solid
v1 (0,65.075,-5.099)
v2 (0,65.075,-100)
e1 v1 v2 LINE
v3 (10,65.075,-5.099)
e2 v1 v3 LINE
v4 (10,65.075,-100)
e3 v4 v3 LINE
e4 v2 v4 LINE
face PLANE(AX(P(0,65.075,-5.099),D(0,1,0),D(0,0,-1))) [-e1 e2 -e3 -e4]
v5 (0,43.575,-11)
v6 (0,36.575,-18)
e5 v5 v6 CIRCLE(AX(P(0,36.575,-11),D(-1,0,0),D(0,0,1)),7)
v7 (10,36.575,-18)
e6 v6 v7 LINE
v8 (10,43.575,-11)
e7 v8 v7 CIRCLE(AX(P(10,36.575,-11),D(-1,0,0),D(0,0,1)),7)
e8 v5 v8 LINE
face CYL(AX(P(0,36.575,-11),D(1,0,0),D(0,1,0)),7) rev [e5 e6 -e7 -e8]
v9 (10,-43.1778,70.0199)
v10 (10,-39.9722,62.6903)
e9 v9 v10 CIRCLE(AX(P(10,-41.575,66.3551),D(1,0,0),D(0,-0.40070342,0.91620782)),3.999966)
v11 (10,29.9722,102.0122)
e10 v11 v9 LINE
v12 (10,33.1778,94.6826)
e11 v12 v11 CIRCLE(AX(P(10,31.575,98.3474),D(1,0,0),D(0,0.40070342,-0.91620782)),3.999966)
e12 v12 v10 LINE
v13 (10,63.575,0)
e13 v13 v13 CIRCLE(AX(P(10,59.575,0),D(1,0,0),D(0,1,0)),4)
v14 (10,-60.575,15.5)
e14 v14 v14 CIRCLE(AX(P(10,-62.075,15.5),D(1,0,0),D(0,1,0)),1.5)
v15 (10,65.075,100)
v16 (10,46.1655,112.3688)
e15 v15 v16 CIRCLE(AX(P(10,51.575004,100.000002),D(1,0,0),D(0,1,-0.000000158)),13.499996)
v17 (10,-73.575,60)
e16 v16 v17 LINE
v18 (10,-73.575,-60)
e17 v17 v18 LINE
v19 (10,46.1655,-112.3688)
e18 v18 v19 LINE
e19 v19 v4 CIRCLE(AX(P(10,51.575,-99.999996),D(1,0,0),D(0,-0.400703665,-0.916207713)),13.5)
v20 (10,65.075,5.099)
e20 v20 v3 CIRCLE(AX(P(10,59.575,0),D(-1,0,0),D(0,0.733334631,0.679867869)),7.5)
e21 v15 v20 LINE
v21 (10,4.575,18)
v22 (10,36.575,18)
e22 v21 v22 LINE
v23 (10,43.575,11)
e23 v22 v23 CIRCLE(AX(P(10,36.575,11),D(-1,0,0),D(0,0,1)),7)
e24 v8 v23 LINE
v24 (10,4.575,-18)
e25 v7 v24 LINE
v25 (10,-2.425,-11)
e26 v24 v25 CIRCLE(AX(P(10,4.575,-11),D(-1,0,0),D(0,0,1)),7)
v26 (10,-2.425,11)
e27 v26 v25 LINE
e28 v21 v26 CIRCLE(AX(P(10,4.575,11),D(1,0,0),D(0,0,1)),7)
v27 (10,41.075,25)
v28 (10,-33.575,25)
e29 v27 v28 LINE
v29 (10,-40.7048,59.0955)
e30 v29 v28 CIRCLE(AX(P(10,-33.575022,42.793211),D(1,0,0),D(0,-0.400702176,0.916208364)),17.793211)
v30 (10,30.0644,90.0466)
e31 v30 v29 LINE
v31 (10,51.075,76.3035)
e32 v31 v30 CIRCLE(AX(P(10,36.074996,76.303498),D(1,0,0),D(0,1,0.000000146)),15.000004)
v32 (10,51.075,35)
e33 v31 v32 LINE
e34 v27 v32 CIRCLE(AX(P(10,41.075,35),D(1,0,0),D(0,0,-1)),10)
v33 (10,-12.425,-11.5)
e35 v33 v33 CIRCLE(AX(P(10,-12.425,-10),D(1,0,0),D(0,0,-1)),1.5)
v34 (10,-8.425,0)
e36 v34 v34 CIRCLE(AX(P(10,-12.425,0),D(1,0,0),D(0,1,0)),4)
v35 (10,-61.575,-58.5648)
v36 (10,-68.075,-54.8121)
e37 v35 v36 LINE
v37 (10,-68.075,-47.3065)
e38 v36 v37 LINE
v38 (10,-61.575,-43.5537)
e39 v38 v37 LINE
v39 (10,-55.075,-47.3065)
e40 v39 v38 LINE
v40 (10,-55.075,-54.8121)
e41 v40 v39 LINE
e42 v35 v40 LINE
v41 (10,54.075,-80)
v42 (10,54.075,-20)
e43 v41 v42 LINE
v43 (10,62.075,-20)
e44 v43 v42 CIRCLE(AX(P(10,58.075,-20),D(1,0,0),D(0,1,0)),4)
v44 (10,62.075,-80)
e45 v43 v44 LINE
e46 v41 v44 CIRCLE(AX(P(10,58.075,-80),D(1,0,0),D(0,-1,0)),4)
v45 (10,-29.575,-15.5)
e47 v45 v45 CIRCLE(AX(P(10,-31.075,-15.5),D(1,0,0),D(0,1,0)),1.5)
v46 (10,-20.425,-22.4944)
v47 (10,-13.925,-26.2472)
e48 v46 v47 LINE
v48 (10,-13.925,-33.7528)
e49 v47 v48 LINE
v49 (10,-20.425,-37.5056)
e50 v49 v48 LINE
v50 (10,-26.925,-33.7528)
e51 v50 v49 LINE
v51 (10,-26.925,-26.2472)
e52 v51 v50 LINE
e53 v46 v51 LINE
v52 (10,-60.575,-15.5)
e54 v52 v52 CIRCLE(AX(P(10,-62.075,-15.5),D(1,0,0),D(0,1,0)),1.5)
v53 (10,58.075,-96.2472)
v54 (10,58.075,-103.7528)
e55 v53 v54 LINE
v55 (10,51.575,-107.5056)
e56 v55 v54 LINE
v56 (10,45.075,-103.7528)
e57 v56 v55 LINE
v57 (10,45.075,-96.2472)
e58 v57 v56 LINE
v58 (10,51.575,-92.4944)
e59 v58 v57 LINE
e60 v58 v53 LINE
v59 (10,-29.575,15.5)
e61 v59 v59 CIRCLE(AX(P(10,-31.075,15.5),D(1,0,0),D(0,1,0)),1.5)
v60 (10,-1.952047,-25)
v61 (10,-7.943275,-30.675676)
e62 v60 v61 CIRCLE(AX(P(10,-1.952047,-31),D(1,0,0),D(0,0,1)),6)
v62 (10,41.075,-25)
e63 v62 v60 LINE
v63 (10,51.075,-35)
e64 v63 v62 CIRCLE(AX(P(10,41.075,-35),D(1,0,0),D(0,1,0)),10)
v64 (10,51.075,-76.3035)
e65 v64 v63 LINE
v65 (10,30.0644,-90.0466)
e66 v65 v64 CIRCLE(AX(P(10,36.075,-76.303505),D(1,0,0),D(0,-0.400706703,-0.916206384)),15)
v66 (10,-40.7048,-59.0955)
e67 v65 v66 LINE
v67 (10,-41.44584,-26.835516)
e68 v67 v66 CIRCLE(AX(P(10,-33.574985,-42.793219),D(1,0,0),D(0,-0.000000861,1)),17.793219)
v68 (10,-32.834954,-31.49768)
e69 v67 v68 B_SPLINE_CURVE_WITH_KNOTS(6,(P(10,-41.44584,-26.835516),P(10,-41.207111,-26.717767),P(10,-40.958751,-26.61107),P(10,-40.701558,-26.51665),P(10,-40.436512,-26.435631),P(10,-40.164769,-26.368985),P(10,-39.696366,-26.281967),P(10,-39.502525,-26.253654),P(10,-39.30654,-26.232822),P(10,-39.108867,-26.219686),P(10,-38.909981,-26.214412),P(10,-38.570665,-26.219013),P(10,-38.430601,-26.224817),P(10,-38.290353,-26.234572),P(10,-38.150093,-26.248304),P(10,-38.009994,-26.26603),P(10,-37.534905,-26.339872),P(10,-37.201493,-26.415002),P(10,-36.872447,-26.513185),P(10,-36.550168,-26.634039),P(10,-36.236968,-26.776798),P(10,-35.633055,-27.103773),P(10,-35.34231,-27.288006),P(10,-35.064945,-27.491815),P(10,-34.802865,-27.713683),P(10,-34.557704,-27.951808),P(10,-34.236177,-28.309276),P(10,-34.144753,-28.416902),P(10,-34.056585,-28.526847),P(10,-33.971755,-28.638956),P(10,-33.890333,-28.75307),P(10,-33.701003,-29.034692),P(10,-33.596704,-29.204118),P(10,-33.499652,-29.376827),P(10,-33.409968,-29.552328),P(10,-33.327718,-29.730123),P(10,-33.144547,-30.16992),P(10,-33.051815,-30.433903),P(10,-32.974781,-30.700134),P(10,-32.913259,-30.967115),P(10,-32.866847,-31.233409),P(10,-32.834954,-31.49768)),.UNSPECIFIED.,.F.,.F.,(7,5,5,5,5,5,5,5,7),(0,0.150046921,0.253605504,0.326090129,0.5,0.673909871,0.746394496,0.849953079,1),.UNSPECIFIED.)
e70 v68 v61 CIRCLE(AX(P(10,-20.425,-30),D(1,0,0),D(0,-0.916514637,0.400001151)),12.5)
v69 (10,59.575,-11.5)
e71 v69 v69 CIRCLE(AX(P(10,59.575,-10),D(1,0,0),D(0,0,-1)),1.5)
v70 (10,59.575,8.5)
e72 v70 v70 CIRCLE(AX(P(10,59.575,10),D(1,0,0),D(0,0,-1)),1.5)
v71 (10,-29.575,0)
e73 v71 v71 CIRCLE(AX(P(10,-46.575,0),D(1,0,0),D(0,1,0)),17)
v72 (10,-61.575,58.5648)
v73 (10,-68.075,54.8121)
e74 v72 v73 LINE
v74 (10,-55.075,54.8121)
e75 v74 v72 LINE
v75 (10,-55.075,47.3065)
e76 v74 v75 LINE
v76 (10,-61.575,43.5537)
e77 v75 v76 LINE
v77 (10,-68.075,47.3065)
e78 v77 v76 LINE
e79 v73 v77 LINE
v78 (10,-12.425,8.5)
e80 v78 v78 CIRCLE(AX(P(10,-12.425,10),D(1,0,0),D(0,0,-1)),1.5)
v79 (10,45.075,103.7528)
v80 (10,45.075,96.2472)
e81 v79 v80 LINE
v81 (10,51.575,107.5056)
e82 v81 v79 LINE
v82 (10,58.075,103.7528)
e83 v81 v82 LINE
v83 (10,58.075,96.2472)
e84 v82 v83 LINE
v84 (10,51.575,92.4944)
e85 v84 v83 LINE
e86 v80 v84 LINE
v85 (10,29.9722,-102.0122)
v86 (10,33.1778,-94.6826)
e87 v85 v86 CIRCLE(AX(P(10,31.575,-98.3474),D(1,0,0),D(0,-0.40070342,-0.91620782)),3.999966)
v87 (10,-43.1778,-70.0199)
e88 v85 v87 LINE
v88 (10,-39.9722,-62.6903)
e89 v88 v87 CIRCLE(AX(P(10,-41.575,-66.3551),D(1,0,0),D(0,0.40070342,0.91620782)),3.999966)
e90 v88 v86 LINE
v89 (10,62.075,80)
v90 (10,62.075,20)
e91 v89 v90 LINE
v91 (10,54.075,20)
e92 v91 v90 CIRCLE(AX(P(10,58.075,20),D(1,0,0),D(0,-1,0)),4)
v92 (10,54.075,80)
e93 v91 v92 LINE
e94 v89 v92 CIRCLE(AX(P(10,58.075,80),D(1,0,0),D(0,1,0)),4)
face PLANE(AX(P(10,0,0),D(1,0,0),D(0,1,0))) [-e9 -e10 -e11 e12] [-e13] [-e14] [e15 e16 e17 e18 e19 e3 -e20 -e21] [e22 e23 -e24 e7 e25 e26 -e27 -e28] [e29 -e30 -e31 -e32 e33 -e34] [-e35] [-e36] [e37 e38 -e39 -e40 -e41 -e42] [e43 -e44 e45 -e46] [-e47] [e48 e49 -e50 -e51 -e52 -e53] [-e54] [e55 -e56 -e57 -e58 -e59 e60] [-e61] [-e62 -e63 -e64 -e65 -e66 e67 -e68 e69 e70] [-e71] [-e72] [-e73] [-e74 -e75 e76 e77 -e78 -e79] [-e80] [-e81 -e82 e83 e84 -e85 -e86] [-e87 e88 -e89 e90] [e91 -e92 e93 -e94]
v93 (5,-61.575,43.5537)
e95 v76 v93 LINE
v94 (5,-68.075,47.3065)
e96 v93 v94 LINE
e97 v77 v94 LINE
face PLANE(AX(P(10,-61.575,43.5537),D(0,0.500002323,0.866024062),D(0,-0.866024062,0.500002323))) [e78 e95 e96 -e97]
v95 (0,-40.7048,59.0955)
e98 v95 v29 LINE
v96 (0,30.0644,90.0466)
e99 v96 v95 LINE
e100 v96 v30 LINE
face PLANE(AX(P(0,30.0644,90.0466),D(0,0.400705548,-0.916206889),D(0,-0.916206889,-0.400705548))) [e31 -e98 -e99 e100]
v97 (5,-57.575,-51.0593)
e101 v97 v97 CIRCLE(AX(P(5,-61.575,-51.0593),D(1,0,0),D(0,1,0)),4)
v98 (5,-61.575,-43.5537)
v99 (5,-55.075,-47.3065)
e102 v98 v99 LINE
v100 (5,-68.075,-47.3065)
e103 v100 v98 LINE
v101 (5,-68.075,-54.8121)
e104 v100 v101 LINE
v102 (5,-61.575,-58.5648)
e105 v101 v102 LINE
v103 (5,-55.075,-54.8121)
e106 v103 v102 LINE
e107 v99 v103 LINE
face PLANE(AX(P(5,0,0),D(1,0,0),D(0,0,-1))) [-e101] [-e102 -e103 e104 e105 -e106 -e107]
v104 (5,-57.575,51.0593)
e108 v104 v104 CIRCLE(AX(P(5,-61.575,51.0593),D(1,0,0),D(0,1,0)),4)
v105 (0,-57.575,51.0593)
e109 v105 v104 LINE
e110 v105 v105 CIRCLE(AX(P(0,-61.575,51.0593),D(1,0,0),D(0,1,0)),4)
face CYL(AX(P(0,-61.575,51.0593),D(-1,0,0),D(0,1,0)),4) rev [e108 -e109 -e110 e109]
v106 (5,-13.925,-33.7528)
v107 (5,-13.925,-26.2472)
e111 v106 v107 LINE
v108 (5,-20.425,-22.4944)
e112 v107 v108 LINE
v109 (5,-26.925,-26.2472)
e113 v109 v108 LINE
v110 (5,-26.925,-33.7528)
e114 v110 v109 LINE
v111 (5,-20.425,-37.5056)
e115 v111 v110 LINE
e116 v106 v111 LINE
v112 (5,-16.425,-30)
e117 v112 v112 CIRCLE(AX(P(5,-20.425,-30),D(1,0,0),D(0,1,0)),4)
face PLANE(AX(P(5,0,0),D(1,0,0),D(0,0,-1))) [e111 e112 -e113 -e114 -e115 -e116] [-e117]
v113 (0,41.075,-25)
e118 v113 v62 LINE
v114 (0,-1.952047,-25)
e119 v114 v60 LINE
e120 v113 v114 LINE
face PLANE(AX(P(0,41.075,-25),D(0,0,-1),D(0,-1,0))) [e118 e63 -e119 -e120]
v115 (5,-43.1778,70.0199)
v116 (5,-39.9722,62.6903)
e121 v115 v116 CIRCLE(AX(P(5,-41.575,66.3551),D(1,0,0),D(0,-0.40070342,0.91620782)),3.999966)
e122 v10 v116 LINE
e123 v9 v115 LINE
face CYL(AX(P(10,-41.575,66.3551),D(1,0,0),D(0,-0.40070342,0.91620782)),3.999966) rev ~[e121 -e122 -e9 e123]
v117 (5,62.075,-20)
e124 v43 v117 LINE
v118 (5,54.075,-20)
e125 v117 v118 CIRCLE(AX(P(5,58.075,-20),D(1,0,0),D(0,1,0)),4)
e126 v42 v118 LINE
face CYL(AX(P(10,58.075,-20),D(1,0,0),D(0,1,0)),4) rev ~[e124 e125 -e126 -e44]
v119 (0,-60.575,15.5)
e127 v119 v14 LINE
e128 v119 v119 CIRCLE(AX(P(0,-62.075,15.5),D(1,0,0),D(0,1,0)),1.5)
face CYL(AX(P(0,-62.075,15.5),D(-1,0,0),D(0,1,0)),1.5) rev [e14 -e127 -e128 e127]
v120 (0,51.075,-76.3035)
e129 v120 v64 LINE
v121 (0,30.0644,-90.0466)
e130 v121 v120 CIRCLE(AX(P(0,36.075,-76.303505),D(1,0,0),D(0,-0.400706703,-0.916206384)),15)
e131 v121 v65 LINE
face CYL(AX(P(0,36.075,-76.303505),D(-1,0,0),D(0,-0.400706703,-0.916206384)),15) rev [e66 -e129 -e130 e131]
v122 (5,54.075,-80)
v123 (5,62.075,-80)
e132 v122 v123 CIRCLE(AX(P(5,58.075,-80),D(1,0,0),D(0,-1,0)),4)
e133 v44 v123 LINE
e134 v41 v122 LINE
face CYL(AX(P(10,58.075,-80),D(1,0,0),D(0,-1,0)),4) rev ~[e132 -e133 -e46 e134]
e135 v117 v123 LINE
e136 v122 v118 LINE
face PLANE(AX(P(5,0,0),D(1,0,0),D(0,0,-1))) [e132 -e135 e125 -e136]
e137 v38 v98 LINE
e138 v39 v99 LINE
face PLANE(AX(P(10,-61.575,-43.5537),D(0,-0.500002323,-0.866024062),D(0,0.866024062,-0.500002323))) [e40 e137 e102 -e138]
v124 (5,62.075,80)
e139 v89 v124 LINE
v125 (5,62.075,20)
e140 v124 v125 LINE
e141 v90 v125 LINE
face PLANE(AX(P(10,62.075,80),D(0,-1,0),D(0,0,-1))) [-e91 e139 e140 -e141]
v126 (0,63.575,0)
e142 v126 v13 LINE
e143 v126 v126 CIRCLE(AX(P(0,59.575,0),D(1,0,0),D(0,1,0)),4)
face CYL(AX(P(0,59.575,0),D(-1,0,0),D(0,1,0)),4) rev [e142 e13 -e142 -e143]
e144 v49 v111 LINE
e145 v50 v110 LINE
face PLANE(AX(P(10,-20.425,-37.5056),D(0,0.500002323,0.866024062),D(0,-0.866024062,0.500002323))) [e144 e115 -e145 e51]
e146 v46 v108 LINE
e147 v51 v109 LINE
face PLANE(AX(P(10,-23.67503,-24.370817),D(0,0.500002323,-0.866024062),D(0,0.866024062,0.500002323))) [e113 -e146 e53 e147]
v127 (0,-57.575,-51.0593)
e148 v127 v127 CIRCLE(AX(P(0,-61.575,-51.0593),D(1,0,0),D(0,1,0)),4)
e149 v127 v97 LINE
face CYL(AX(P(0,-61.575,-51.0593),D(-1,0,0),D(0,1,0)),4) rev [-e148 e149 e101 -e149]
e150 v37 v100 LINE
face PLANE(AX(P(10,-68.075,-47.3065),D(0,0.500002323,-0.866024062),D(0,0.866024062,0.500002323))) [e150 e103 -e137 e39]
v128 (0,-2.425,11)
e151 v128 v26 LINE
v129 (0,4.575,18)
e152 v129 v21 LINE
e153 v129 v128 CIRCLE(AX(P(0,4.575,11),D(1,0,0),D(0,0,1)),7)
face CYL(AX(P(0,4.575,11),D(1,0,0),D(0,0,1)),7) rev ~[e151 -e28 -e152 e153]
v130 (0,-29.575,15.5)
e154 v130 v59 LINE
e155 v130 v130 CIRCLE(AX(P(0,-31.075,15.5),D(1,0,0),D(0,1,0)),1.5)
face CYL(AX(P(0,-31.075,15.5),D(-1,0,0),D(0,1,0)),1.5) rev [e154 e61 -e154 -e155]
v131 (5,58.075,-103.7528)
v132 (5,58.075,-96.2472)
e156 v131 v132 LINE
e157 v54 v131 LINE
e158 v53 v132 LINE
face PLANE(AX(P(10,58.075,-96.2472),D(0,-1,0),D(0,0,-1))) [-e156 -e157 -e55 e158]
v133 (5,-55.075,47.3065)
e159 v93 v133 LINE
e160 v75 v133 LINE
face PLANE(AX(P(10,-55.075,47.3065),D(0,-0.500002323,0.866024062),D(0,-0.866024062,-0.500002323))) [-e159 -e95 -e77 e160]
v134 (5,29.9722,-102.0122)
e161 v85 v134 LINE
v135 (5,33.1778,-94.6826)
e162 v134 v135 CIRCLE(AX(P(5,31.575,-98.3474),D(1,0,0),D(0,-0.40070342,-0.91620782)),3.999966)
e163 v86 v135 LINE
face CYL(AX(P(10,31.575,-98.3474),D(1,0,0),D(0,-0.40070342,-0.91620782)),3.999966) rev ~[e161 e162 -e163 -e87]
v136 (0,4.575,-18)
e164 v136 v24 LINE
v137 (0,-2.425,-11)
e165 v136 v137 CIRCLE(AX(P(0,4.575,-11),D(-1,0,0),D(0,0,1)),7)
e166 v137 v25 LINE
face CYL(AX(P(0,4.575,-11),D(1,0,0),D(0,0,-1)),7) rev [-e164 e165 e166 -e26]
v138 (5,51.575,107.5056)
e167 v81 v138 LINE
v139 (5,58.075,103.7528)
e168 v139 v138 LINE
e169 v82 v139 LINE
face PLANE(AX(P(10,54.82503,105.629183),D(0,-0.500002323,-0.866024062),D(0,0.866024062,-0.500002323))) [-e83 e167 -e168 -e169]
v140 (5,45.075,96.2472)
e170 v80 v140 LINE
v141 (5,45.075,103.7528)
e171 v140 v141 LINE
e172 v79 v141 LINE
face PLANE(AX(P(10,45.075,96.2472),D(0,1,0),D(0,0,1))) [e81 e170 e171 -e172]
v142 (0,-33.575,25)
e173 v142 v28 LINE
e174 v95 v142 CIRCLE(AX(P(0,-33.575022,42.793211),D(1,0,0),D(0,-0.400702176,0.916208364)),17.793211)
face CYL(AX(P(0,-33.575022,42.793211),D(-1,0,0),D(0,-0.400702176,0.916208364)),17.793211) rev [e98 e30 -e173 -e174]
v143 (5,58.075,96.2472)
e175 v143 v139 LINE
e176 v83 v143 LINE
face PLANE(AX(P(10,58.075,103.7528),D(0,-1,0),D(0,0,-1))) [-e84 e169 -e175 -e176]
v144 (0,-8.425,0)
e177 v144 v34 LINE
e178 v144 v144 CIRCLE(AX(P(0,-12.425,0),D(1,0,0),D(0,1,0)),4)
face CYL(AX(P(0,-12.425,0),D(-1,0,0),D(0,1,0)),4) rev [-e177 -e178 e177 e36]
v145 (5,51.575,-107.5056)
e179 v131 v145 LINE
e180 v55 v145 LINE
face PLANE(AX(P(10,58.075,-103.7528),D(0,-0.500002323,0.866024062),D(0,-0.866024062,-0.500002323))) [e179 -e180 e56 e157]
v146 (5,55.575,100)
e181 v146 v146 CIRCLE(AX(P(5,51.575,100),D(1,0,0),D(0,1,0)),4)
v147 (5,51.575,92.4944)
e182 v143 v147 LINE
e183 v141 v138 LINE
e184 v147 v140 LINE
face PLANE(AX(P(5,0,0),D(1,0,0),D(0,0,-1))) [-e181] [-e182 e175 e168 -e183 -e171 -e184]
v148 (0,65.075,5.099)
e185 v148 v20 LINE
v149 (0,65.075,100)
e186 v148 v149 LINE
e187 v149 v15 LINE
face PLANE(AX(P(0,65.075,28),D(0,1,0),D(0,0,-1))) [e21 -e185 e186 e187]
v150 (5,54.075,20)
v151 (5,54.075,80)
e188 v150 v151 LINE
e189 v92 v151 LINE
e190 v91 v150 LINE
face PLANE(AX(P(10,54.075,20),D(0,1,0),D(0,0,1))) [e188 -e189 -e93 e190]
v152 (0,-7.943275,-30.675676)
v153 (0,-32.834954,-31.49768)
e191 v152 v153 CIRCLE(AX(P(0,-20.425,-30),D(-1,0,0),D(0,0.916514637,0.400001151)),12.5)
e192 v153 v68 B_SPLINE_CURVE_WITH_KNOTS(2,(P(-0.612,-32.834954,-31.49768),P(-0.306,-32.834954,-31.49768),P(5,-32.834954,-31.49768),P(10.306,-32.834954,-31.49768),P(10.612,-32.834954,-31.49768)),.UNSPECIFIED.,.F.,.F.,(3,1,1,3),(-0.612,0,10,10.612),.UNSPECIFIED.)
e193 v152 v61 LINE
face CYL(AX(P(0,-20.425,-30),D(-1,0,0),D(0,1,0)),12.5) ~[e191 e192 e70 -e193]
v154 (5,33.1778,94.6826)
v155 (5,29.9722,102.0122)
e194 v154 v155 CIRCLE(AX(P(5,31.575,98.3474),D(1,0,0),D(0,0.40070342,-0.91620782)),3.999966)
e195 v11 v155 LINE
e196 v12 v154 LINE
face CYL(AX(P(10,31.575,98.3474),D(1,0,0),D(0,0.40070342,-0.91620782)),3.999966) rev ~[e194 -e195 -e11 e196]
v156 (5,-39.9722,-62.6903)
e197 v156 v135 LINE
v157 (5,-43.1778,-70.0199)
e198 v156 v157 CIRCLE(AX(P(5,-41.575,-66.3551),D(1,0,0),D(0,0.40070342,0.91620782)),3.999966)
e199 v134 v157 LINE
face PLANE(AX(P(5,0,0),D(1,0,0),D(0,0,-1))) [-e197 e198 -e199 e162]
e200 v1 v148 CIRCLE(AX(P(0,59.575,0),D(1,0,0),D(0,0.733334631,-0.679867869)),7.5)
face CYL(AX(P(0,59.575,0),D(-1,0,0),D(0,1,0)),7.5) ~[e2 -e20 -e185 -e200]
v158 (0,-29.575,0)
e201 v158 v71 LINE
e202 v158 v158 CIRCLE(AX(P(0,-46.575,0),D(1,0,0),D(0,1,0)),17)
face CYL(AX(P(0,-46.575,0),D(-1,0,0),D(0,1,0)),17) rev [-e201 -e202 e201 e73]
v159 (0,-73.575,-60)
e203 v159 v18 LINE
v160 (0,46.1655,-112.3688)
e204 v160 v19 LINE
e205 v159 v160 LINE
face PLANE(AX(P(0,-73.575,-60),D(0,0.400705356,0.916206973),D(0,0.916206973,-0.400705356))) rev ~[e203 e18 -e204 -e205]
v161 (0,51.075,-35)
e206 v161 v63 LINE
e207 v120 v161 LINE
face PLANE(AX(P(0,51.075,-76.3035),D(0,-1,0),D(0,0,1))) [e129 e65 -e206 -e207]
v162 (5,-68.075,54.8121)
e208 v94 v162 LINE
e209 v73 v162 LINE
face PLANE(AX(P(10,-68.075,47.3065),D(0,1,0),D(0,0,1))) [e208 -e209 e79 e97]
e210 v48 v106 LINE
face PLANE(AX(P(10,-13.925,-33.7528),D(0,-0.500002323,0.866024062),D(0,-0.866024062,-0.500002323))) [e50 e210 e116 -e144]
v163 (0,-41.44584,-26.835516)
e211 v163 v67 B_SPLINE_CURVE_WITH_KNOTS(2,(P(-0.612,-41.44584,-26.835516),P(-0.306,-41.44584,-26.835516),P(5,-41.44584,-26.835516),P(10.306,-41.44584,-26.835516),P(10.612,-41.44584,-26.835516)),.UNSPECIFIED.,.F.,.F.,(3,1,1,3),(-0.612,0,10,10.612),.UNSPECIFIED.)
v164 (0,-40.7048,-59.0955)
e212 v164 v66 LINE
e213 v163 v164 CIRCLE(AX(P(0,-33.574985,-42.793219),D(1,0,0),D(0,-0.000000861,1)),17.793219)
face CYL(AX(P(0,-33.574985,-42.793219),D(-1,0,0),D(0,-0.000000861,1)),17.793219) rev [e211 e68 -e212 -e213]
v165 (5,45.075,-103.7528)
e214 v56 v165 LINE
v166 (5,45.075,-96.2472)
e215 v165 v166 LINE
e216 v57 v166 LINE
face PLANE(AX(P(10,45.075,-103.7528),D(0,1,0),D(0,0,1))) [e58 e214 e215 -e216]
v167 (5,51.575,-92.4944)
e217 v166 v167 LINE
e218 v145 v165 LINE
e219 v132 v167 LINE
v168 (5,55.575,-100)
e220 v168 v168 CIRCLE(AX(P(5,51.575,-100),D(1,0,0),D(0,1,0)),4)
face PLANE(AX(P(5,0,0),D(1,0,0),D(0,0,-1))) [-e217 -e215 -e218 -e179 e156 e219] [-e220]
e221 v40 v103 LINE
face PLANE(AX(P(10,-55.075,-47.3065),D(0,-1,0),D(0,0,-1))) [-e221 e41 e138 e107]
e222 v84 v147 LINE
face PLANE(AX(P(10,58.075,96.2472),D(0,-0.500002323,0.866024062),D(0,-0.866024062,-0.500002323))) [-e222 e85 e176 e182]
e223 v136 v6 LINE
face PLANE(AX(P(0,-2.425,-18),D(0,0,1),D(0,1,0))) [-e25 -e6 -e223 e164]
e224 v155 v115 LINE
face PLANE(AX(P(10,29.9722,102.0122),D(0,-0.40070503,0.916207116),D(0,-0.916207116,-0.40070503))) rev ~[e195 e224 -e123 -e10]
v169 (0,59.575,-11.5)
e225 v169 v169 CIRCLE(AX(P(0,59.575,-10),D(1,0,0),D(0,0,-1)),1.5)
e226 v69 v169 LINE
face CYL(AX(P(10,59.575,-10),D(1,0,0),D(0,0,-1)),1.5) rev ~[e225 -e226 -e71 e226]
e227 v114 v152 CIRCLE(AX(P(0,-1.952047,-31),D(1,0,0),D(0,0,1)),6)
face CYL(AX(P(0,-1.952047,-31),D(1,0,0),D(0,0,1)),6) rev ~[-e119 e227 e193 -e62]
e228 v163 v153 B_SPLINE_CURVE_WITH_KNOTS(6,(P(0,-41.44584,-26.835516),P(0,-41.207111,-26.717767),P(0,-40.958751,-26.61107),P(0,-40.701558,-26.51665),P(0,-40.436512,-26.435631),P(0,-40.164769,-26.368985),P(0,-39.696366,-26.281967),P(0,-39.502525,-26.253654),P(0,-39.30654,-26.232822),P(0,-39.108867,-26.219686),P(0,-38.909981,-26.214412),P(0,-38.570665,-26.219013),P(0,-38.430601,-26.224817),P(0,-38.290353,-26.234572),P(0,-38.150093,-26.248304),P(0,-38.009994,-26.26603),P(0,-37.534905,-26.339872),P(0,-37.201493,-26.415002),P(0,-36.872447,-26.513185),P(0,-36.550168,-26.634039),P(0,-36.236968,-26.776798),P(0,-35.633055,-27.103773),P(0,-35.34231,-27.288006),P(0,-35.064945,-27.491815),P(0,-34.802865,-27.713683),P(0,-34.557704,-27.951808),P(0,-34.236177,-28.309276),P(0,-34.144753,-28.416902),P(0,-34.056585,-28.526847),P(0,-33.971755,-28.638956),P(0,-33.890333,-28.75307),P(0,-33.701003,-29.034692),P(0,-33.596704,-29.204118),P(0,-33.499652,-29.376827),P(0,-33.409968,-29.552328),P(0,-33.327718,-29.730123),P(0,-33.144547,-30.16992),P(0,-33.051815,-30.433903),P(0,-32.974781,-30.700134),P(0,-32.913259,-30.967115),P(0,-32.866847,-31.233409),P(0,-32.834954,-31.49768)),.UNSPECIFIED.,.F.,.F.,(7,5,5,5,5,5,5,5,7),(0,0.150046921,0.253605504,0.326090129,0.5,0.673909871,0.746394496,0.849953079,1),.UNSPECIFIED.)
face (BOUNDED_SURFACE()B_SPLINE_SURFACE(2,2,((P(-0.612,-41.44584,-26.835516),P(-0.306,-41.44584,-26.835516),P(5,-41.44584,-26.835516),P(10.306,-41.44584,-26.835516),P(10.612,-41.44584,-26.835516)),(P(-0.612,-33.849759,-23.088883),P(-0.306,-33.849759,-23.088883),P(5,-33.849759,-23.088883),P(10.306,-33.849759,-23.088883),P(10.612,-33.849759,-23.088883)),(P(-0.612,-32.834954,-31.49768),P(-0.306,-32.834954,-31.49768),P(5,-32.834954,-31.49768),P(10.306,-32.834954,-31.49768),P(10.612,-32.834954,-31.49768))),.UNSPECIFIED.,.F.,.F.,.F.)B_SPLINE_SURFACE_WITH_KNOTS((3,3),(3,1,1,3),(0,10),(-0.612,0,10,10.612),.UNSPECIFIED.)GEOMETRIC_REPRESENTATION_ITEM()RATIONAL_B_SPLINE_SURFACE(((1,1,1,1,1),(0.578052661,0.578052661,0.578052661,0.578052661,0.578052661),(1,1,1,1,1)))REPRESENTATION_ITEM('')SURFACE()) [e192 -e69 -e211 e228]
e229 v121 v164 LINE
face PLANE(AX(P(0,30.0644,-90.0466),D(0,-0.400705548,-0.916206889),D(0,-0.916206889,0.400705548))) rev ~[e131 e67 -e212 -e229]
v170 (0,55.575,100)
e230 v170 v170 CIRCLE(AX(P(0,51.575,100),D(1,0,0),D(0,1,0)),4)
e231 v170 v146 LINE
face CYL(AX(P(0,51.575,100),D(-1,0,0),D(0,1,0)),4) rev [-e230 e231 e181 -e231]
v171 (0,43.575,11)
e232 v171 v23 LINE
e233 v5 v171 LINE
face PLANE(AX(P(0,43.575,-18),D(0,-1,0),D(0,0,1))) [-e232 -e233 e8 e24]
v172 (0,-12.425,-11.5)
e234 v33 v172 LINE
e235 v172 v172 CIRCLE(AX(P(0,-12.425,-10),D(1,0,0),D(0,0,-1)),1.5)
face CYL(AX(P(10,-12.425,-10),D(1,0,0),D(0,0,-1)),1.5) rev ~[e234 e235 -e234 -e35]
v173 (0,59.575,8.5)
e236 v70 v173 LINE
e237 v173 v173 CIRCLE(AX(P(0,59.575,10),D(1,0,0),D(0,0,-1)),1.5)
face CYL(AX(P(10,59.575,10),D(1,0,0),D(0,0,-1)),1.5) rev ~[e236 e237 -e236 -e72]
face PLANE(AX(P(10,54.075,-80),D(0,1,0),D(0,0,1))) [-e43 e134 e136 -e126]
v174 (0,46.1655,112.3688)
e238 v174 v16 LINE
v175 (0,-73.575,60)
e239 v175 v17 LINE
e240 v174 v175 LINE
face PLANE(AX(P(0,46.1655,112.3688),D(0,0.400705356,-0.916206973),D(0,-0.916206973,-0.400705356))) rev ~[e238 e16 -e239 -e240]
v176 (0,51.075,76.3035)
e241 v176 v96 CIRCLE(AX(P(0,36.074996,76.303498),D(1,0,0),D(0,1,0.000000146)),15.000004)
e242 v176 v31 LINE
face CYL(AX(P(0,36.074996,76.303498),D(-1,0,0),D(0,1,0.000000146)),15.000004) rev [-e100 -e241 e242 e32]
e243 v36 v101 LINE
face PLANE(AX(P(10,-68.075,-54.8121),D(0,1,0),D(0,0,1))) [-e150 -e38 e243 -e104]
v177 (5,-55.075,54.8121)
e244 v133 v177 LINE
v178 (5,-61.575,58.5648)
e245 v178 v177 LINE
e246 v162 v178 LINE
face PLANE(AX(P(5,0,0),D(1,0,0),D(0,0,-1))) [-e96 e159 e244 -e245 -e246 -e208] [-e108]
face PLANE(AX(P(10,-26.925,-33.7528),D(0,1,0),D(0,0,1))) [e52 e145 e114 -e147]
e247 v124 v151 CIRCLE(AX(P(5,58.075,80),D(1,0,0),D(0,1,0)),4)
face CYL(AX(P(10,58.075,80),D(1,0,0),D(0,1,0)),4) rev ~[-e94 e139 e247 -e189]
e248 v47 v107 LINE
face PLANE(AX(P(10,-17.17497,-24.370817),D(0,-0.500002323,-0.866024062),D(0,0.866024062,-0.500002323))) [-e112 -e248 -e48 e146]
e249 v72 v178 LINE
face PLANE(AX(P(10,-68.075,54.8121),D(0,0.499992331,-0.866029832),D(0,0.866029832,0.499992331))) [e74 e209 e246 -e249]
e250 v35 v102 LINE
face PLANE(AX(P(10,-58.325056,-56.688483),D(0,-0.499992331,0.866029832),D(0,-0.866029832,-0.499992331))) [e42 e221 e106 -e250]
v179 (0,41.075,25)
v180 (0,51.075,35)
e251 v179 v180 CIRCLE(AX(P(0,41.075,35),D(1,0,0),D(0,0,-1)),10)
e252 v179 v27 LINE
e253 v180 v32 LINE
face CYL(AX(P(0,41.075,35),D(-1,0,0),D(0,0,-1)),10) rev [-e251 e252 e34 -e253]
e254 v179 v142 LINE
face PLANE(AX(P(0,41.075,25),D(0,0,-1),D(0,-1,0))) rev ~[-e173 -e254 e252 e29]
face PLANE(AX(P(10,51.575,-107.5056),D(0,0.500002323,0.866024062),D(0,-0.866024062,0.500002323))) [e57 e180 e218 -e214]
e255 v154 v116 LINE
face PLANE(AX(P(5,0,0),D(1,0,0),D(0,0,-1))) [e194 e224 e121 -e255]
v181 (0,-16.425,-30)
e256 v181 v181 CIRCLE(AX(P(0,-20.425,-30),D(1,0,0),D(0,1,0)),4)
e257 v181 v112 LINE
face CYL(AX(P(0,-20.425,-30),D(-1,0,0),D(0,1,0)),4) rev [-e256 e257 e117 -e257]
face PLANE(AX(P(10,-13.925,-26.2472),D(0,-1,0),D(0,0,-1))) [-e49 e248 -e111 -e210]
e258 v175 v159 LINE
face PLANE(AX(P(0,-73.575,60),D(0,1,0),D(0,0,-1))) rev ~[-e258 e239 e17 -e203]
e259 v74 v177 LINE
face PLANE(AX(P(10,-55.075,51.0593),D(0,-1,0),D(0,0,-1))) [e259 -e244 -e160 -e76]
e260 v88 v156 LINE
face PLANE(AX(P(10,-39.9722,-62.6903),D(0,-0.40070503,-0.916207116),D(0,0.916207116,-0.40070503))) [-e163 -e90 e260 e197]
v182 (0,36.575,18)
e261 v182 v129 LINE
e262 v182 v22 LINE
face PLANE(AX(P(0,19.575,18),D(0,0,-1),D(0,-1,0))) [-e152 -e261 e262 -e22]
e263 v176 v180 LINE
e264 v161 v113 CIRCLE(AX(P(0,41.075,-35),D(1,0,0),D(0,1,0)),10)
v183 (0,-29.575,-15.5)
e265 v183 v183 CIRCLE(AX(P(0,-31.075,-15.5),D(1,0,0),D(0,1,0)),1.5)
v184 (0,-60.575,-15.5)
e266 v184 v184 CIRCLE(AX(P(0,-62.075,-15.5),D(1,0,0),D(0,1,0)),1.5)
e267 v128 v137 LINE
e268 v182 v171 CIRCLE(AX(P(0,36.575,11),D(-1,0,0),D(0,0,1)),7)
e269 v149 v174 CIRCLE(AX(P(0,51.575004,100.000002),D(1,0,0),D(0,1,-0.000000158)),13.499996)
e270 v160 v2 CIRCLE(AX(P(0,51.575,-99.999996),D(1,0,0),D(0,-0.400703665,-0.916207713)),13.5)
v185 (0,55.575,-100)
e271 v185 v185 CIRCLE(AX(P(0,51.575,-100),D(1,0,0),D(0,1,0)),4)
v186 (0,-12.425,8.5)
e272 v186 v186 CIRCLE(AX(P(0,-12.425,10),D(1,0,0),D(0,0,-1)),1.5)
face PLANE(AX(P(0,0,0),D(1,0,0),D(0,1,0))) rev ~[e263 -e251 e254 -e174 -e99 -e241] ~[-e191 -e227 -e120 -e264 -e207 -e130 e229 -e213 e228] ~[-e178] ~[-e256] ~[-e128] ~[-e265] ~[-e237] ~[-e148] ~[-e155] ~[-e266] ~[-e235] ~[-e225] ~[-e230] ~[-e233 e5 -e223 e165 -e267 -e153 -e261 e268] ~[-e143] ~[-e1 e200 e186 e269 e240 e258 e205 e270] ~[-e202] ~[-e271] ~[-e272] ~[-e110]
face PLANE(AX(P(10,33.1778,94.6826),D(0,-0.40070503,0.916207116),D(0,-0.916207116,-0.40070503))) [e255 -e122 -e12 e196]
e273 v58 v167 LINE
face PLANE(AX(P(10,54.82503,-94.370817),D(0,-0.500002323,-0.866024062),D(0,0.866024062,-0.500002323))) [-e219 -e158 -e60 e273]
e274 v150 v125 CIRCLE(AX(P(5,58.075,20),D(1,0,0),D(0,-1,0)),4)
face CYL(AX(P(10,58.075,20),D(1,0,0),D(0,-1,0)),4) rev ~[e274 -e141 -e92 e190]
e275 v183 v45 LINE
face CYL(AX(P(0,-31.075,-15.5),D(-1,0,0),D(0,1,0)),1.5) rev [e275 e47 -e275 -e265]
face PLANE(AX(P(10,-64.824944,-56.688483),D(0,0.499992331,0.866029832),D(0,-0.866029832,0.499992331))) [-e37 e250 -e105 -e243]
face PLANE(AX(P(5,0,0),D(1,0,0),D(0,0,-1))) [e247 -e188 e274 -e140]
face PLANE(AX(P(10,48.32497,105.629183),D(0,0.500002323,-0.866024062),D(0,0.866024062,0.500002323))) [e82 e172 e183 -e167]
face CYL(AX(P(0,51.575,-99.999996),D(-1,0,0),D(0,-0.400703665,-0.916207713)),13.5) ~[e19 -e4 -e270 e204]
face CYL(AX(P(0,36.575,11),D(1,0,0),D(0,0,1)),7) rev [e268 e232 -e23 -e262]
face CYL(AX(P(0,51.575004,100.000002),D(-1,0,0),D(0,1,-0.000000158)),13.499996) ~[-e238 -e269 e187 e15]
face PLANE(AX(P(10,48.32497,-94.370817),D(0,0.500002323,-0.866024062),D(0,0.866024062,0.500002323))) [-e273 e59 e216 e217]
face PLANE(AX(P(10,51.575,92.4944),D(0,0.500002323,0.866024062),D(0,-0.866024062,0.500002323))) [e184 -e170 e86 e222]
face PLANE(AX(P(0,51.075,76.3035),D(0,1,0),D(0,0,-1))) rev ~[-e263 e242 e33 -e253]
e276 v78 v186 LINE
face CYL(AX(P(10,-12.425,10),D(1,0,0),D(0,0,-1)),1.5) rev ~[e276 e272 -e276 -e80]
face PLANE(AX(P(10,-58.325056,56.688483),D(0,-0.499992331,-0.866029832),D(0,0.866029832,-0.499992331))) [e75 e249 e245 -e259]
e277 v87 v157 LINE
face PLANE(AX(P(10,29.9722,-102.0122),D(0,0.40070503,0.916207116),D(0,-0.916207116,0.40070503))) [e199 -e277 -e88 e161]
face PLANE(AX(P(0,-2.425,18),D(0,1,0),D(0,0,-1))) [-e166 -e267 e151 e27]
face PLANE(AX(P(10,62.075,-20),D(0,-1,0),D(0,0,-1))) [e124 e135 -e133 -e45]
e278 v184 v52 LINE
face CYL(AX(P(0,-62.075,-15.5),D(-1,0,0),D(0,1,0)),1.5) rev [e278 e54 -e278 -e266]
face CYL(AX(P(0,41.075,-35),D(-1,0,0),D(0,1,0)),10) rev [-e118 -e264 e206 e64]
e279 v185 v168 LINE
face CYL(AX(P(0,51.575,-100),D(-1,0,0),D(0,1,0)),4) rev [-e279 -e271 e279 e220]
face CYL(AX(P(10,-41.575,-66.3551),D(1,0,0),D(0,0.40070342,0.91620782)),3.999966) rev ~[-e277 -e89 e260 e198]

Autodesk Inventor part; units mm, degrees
ref_plane "YZ Plane" through (0, 0, 0) normal (1, 0, 0) x (0, 1, 0)
ref_plane "XZ Plane" through (0, 0, 0) normal (0, 1, 0) x (-1, 0, 0)
ref_plane "XY Plane" through (0, 0, 0) normal (0, 0, 1) x (1, 0, 0)
sketch "Sketch1" plane through (0, 0, 0) normal (1, 0, 0) x (0, 1, 0)
  line L0 (73.575, 28) -> (65.075, 28)
  line L1 (-73.575, 60) -> (-73.575, -60)
  line L2 (73.575, -28) -> (73.575, 28)
  circle A0 centre (59.575, 0) radius 4
  circle A1 centre (-12.425, 0) radius 4
  circle A2 centre (59.575, 0) radius 7.5
  line L3 (65.075, 28) -> (65.075, 5.099)
  line L4 (65.075, -5.099) -> (65.075, -28)
  circle A3 centre (51.575, -100) radius 4
  circle A4 centre (51.575, 100) radius 4
  arc A5 (65.075, 100) -> (46.1655, 112.3688) centre (51.575, 100) ccw
  arc A6 (46.1655, -112.3688) -> (65.075, -100) centre (51.575, -100) ccw
  line L5 (65.075, 28) -> (65.075, 100)
  line L6 (65.075, -28) -> (65.075, -100)
  line L7 (46.1655, 112.3688) -> (-73.575, 60)
  line L8 (-73.575, -60) -> (46.1655, -112.3688)
  circle A7 centre (-20.425, -30) radius 4
  line L9 (65.075, -28) -> (73.575, -28)
  line L10 (30.0644, 90.0466) -> (-40.7048, 59.0955)
  line L11 (30.0644, -90.0466) -> (-40.7048, -59.0955)
  line L12 (51.075, 76.3035) -> (51.075, 35)
  line L13 (51.075, -76.3035) -> (51.075, -35)
  line L14 (41.075, 25) -> (-33.575, 25)
  line L15 (41.075, -25) -> (-8.9686, -25)
  arc A8 (41.075, 25) -> (51.075, 35) centre (41.075, 35) ccw
  arc A9 (-40.7048, 59.0955) -> (-33.575, 25) centre (-33.575, 42.7932) ccw
  arc A10 (51.075, -35) -> (41.075, -25) centre (41.075, -35) ccw
  circle A11 centre (-20.425, -30) radius 12.5
  line L16 (-31.8814, -25) -> (-33.575, -25)
  arc A12 (-33.575, -25) -> (-40.7048, -59.0955) centre (-33.575, -42.7932) ccw
  circle A13 centre (-61.575, 51.0593) radius 4
  circle A14 centre (-61.575, -51.0593) radius 4
  arc A15 (51.075, 76.3035) -> (30.0644, 90.0466) centre (36.075, 76.3035) ccw
  arc A16 (30.0644, -90.0466) -> (51.075, -76.3035) centre (36.075, -76.3035) ccw
  circle A17 centre (19.575, 0) radius 18
  circle A18 centre (-46.575, 0) radius 17
  circle A19 centre (-62.075, 15.5) radius 1.5
  circle A20 centre (-31.075, 15.5) radius 1.5
  circle A21 centre (-31.075, -15.5) radius 1.5
  circle A22 centre (-62.075, -15.5) radius 1.5
  line L17 (43.575, 18) -> (-2.425, 18)
  line L18 (-2.425, 18) -> (-2.425, -18)
  line L19 (-2.425, -18) -> (43.575, -18)
  line L20 (43.575, -18) -> (43.575, 18)
  point P0 (0, 0)
  point P1 (73.575, 0)
  point P2 (51.075, 58.5072)
  point P3 (51.075, -58.5072)
  point P4 (-20.425, -42.5)
  point P5 (16.0532, -25)
  point P6 (-49.2726, -25)
  point P7 (51.075, 59.4738)
  point P8 (1.575, 0)
  dimension "d1" = 56
  dimension "d2" = 72
  dimension "d3" = 8
  dimension "d4" = 8
  dimension "d5" = 14
  dimension "d13" = 12.425
  dimension "d15" = 15
  dimension "d18" = 5.5
  dimension "d19" = 8
  dimension "d20" = 100
  dimension "d21" = 100
  dimension "d22" = 8
  dimension "d23" = 8
  dimension "d25" = 30
  dimension "d26" = 8
  dimension "d31" = 14
  dimension "d33" = 14
  dimension "d34" = 14
  dimension "d36" = 25
  dimension "d37" = 25
  dimension "d41" = 25
  dimension "d43" = 40
  dimension "d47" = 12
  dimension "d48" = 13
  dimension "d49" = 13
  dimension "d50" = 12
  dimension "d58" = 10
  dimension "d59" = 15
  dimension "d87" = 34
  dimension "d88" = 36
  dimension "d89" = 66.15
  dimension "d90" = 3
  dimension "d91" = 31
  dimension "d92" = 31
  dimension "d93" = 15.5
  dimension "d94" = 15.5
  dimension "d95" = 27
  dimension "d96" = 19.575
  dimension "d97" = 60
  dimension "d98" = 60
  dimension "d142" = 10
  dimension "d143" = 16
extrude "Extrusion3" add sketch "Sketch1" along normal blind 10 contours L3 A2 L4 L6 A6 L8 L1 L7 A5 L5 | A2 | A11
fillet "Fillet1" radius 6 2 edges at (5, -8.9686, -25) (5, -31.8814, -25)
sketch "Sketch3" plane through (10, 0, 0) normal (1, 0, 0) x (0, 0, -1)
  line L0 (-60, -73.575) -> (60, -73.575) projected
  line L1 (-102.0122, 29.9722) -> (-70.0199, -43.1778)
  line L2 (-94.6826, 33.1778) -> (-62.6903, -39.9722)
  line L3 (62.6903, -39.9722) -> (94.6826, 33.1778)
  line L4 (90.0466, 30.0644) -> (59.0955, -40.7048) projected
  line L5 (102.0122, 29.9722) -> (70.0199, -43.1778)
  line L6 (60, -73.575) -> (112.3688, 46.1655) projected
  arc A0 (-94.6826, 33.1778) -> (-102.0122, 29.9722) centre (-98.3474, 31.575) ccw
  arc A1 (-70.0199, -43.1778) -> (-62.6903, -39.9722) centre (-66.3551, -41.575) ccw
  arc A2 (102.0122, 29.9722) -> (94.6826, 33.1778) centre (98.3474, 31.575) ccw
  arc A3 (62.6903, -39.9722) -> (70.0199, -43.1778) centre (66.3551, -41.575) ccw
  line L7 (-59.0955, -40.7048) -> (-90.0466, 30.0644) projected
  line L8 (-112.3688, 46.1655) -> (-60, -73.575) projected
  line L9 (-80, 62.075) -> (-20, 62.075)
  line L10 (-20, 54.075) -> (-80, 54.075)
  line L11 (20, 62.075) -> (80, 62.075)
  line L12 (80, 54.075) -> (20, 54.075)
  arc A4 (-80, 62.075) -> (-80, 54.075) centre (-80, 58.075) ccw
  arc A5 (-20, 54.075) -> (-20, 62.075) centre (-20, 58.075) ccw
  arc A6 (20, 62.075) -> (20, 54.075) centre (20, 58.075) ccw
  arc A7 (80, 54.075) -> (80, 62.075) centre (80, 58.075) ccw
  circle A8 centre (0, 59.575) radius 4 projected
  line L13 (-5.099, 65.075) -> (-100, 65.075) projected
  line L14 (-76.3035, 51.075) -> (-35, 51.075) projected
  line L15 (35, 51.075) -> (76.3035, 51.075) projected
  line L16 (100, 65.075) -> (5.099, 65.075) projected
  circle A9 centre (-51.0593, -61.575) radius 4
  circle A10 centre (-51.0593, -61.575) radius 4 projected
  circle A11 centre (-100, 51.575) radius 4
  circle A12 centre (100, 51.575) radius 4
  circle A13 centre (-100, 51.575) radius 4 projected
  circle A14 centre (100, 51.575) radius 4 projected
  point P0 (0, 0)
  dimension "d71" = 3
  dimension "d72" = 3
  dimension "d73" = 3
  dimension "d74" = 3
  dimension "d78" = 20
  dimension "d79" = 20
  dimension "d81" = 3
  dimension "d82" = 3
  dimension "d83" = 3
  dimension "d84" = 3
  dimension "d145" = 20
  dimension "d146" = 20
  dimension "d147" = 20
  dimension "d148" = 20
extrude "Extrusion5" cut sketch "Sketch3" against normal blind 5 contours A0 L2 A1 L1 | L3 A2 L5 A3 | L9 A5 L10 A4 | L11 A7 L12 A6
sketch "Sketch4" plane through (10, 0, 0) normal (1, 0, 0) x (0, 0, -1)
  line L0 (-103.7528, 58.075) -> (-96.2472, 58.075)
  line L1 (-96.2472, 58.075) -> (-92.4944, 51.575)
  line L2 (-92.4944, 51.575) -> (-96.2472, 45.075)
  line L3 (-96.2472, 45.075) -> (-103.7528, 45.075)
  line L4 (-103.7528, 45.075) -> (-107.5056, 51.575)
  line L5 (-107.5056, 51.575) -> (-103.7528, 58.075)
  circle A0 centre (-100, 51.575) radius 6.5
  circle A1 centre (-100, 51.575) radius 4
  line L6 (96.2472, 58.075) -> (103.7528, 58.075)
  line L7 (103.7528, 58.075) -> (107.5056, 51.575)
  line L8 (107.5056, 51.575) -> (103.7528, 45.075)
  line L9 (103.7528, 45.075) -> (96.2472, 45.075)
  line L10 (96.2472, 45.075) -> (92.4944, 51.575)
  line L11 (92.4944, 51.575) -> (96.2472, 58.075)
  circle A2 centre (100, 51.575) radius 6.5
  circle A3 centre (100, 51.575) radius 4
  circle A4 centre (100, 51.575) radius 4
  line L12 (-47.3065, -55.075) -> (-43.5537, -61.575)
  line L13 (-43.5537, -61.575) -> (-47.3065, -68.075)
  line L14 (-47.3065, -68.075) -> (-54.8121, -68.075)
  circle A5 centre (-51.0593, -61.575) radius 4
  circle A6 centre (-51.0593, -61.575) radius 6.5
  line L15 (-54.8121, -68.075) -> (-58.5648, -61.575)
  line L16 (-58.5648, -61.575) -> (-54.8121, -55.075)
  line L17 (-54.8121, -55.075) -> (-47.3065, -55.075)
  circle A7 centre (-51.0593, -61.575) radius 4
  line L18 (54.8121, -68.075) -> (47.3065, -68.075)
  line L19 (58.5648, -61.575) -> (54.8121, -68.075)
  line L20 (47.3065, -68.075) -> (43.5537, -61.575)
  circle A8 centre (51.0593, -61.575) radius 4
  line L21 (43.5537, -61.575) -> (47.3065, -55.075)
  circle A9 centre (51.0593, -61.575) radius 6.5
  line L22 (47.3065, -55.075) -> (54.8121, -55.075)
  line L23 (54.8121, -55.075) -> (58.5648, -61.575)
  circle A10 centre (51.0593, -61.575) radius 4
  circle A11 centre (-100, 51.575) radius 4
  circle A12 centre (-51.0593, -61.575) radius 4
  circle A13 centre (51.0593, -61.575) radius 4
  circle A14 centre (100, 51.575) radius 4
  line L24 (26.2472, -13.925) -> (33.7528, -13.925)
  line L25 (33.7528, -13.925) -> (37.5056, -20.425)
  line L26 (37.5056, -20.425) -> (33.7528, -26.925)
  line L27 (33.7528, -26.925) -> (26.2472, -26.925)
  line L28 (26.2472, -26.925) -> (22.4944, -20.425)
  line L29 (22.4944, -20.425) -> (26.2472, -13.925)
  circle A15 centre (30, -20.425) radius 6.5
  circle A16 centre (30, -20.425) radius 4
  circle A17 centre (30, -20.425) radius 4
  circle A18 centre (30, -20.425) radius 4 projected
  circle A19 centre (-51.0593, -61.575) radius 4 projected
  circle A20 centre (51.0593, -61.575) radius 4 projected
  circle A21 centre (100, 51.575) radius 4 projected
  circle A22 centre (-100, 51.575) radius 4 projected
  point P0 (0, 0)
  point P1 (0, 0)
  dimension "d132" = 13
  dimension "d133" = 13
  dimension "d134" = 13
  dimension "d135" = 13
  dimension "d136" = 8
  dimension "d137" = 8
  dimension "d138" = 8
  dimension "d139" = 8
  dimension "d140" = 13
  dimension "d141" = 8
extrude "Extrusion6" cut sketch "Sketch4" against normal blind 5
fillet "Fillet2" radius 7 4 edges at (5, -2.425, 18) (5, 43.575, 18) (5, 43.575, -18) (5, -2.425, -18)
sketch "Sketch5" plane through (10, 0, 0) normal (1, 0, 0) x (0, 0, -1)
  circle A0 centre (-10, 59.575) radius 1.5
  circle A1 centre (10, 59.575) radius 1.5
  circle A2 centre (0, 59.575) radius 4
  circle A3 centre (0, 59.575) radius 4 projected
  circle A4 centre (-10, -12.425) radius 1.5
  circle A5 centre (10, -12.425) radius 1.5
  circle A6 centre (0, -12.425) radius 4
  circle A7 centre (0, -12.425) radius 4
  circle A8 centre (0, -12.425) radius 4 projected
  point P0 (0, 0)
  dimension "d149" = 3
  dimension "d150" = 10
  dimension "d151" = 10
  dimension "d154" = 3
  dimension "d155" = 10
  dimension "d156" = 10
extrude "Extrusion7" cut sketch "Sketch5" against normal blind 10 contours A0 | A1 | A4 | A5
properties part number "Frame_Stepper"
